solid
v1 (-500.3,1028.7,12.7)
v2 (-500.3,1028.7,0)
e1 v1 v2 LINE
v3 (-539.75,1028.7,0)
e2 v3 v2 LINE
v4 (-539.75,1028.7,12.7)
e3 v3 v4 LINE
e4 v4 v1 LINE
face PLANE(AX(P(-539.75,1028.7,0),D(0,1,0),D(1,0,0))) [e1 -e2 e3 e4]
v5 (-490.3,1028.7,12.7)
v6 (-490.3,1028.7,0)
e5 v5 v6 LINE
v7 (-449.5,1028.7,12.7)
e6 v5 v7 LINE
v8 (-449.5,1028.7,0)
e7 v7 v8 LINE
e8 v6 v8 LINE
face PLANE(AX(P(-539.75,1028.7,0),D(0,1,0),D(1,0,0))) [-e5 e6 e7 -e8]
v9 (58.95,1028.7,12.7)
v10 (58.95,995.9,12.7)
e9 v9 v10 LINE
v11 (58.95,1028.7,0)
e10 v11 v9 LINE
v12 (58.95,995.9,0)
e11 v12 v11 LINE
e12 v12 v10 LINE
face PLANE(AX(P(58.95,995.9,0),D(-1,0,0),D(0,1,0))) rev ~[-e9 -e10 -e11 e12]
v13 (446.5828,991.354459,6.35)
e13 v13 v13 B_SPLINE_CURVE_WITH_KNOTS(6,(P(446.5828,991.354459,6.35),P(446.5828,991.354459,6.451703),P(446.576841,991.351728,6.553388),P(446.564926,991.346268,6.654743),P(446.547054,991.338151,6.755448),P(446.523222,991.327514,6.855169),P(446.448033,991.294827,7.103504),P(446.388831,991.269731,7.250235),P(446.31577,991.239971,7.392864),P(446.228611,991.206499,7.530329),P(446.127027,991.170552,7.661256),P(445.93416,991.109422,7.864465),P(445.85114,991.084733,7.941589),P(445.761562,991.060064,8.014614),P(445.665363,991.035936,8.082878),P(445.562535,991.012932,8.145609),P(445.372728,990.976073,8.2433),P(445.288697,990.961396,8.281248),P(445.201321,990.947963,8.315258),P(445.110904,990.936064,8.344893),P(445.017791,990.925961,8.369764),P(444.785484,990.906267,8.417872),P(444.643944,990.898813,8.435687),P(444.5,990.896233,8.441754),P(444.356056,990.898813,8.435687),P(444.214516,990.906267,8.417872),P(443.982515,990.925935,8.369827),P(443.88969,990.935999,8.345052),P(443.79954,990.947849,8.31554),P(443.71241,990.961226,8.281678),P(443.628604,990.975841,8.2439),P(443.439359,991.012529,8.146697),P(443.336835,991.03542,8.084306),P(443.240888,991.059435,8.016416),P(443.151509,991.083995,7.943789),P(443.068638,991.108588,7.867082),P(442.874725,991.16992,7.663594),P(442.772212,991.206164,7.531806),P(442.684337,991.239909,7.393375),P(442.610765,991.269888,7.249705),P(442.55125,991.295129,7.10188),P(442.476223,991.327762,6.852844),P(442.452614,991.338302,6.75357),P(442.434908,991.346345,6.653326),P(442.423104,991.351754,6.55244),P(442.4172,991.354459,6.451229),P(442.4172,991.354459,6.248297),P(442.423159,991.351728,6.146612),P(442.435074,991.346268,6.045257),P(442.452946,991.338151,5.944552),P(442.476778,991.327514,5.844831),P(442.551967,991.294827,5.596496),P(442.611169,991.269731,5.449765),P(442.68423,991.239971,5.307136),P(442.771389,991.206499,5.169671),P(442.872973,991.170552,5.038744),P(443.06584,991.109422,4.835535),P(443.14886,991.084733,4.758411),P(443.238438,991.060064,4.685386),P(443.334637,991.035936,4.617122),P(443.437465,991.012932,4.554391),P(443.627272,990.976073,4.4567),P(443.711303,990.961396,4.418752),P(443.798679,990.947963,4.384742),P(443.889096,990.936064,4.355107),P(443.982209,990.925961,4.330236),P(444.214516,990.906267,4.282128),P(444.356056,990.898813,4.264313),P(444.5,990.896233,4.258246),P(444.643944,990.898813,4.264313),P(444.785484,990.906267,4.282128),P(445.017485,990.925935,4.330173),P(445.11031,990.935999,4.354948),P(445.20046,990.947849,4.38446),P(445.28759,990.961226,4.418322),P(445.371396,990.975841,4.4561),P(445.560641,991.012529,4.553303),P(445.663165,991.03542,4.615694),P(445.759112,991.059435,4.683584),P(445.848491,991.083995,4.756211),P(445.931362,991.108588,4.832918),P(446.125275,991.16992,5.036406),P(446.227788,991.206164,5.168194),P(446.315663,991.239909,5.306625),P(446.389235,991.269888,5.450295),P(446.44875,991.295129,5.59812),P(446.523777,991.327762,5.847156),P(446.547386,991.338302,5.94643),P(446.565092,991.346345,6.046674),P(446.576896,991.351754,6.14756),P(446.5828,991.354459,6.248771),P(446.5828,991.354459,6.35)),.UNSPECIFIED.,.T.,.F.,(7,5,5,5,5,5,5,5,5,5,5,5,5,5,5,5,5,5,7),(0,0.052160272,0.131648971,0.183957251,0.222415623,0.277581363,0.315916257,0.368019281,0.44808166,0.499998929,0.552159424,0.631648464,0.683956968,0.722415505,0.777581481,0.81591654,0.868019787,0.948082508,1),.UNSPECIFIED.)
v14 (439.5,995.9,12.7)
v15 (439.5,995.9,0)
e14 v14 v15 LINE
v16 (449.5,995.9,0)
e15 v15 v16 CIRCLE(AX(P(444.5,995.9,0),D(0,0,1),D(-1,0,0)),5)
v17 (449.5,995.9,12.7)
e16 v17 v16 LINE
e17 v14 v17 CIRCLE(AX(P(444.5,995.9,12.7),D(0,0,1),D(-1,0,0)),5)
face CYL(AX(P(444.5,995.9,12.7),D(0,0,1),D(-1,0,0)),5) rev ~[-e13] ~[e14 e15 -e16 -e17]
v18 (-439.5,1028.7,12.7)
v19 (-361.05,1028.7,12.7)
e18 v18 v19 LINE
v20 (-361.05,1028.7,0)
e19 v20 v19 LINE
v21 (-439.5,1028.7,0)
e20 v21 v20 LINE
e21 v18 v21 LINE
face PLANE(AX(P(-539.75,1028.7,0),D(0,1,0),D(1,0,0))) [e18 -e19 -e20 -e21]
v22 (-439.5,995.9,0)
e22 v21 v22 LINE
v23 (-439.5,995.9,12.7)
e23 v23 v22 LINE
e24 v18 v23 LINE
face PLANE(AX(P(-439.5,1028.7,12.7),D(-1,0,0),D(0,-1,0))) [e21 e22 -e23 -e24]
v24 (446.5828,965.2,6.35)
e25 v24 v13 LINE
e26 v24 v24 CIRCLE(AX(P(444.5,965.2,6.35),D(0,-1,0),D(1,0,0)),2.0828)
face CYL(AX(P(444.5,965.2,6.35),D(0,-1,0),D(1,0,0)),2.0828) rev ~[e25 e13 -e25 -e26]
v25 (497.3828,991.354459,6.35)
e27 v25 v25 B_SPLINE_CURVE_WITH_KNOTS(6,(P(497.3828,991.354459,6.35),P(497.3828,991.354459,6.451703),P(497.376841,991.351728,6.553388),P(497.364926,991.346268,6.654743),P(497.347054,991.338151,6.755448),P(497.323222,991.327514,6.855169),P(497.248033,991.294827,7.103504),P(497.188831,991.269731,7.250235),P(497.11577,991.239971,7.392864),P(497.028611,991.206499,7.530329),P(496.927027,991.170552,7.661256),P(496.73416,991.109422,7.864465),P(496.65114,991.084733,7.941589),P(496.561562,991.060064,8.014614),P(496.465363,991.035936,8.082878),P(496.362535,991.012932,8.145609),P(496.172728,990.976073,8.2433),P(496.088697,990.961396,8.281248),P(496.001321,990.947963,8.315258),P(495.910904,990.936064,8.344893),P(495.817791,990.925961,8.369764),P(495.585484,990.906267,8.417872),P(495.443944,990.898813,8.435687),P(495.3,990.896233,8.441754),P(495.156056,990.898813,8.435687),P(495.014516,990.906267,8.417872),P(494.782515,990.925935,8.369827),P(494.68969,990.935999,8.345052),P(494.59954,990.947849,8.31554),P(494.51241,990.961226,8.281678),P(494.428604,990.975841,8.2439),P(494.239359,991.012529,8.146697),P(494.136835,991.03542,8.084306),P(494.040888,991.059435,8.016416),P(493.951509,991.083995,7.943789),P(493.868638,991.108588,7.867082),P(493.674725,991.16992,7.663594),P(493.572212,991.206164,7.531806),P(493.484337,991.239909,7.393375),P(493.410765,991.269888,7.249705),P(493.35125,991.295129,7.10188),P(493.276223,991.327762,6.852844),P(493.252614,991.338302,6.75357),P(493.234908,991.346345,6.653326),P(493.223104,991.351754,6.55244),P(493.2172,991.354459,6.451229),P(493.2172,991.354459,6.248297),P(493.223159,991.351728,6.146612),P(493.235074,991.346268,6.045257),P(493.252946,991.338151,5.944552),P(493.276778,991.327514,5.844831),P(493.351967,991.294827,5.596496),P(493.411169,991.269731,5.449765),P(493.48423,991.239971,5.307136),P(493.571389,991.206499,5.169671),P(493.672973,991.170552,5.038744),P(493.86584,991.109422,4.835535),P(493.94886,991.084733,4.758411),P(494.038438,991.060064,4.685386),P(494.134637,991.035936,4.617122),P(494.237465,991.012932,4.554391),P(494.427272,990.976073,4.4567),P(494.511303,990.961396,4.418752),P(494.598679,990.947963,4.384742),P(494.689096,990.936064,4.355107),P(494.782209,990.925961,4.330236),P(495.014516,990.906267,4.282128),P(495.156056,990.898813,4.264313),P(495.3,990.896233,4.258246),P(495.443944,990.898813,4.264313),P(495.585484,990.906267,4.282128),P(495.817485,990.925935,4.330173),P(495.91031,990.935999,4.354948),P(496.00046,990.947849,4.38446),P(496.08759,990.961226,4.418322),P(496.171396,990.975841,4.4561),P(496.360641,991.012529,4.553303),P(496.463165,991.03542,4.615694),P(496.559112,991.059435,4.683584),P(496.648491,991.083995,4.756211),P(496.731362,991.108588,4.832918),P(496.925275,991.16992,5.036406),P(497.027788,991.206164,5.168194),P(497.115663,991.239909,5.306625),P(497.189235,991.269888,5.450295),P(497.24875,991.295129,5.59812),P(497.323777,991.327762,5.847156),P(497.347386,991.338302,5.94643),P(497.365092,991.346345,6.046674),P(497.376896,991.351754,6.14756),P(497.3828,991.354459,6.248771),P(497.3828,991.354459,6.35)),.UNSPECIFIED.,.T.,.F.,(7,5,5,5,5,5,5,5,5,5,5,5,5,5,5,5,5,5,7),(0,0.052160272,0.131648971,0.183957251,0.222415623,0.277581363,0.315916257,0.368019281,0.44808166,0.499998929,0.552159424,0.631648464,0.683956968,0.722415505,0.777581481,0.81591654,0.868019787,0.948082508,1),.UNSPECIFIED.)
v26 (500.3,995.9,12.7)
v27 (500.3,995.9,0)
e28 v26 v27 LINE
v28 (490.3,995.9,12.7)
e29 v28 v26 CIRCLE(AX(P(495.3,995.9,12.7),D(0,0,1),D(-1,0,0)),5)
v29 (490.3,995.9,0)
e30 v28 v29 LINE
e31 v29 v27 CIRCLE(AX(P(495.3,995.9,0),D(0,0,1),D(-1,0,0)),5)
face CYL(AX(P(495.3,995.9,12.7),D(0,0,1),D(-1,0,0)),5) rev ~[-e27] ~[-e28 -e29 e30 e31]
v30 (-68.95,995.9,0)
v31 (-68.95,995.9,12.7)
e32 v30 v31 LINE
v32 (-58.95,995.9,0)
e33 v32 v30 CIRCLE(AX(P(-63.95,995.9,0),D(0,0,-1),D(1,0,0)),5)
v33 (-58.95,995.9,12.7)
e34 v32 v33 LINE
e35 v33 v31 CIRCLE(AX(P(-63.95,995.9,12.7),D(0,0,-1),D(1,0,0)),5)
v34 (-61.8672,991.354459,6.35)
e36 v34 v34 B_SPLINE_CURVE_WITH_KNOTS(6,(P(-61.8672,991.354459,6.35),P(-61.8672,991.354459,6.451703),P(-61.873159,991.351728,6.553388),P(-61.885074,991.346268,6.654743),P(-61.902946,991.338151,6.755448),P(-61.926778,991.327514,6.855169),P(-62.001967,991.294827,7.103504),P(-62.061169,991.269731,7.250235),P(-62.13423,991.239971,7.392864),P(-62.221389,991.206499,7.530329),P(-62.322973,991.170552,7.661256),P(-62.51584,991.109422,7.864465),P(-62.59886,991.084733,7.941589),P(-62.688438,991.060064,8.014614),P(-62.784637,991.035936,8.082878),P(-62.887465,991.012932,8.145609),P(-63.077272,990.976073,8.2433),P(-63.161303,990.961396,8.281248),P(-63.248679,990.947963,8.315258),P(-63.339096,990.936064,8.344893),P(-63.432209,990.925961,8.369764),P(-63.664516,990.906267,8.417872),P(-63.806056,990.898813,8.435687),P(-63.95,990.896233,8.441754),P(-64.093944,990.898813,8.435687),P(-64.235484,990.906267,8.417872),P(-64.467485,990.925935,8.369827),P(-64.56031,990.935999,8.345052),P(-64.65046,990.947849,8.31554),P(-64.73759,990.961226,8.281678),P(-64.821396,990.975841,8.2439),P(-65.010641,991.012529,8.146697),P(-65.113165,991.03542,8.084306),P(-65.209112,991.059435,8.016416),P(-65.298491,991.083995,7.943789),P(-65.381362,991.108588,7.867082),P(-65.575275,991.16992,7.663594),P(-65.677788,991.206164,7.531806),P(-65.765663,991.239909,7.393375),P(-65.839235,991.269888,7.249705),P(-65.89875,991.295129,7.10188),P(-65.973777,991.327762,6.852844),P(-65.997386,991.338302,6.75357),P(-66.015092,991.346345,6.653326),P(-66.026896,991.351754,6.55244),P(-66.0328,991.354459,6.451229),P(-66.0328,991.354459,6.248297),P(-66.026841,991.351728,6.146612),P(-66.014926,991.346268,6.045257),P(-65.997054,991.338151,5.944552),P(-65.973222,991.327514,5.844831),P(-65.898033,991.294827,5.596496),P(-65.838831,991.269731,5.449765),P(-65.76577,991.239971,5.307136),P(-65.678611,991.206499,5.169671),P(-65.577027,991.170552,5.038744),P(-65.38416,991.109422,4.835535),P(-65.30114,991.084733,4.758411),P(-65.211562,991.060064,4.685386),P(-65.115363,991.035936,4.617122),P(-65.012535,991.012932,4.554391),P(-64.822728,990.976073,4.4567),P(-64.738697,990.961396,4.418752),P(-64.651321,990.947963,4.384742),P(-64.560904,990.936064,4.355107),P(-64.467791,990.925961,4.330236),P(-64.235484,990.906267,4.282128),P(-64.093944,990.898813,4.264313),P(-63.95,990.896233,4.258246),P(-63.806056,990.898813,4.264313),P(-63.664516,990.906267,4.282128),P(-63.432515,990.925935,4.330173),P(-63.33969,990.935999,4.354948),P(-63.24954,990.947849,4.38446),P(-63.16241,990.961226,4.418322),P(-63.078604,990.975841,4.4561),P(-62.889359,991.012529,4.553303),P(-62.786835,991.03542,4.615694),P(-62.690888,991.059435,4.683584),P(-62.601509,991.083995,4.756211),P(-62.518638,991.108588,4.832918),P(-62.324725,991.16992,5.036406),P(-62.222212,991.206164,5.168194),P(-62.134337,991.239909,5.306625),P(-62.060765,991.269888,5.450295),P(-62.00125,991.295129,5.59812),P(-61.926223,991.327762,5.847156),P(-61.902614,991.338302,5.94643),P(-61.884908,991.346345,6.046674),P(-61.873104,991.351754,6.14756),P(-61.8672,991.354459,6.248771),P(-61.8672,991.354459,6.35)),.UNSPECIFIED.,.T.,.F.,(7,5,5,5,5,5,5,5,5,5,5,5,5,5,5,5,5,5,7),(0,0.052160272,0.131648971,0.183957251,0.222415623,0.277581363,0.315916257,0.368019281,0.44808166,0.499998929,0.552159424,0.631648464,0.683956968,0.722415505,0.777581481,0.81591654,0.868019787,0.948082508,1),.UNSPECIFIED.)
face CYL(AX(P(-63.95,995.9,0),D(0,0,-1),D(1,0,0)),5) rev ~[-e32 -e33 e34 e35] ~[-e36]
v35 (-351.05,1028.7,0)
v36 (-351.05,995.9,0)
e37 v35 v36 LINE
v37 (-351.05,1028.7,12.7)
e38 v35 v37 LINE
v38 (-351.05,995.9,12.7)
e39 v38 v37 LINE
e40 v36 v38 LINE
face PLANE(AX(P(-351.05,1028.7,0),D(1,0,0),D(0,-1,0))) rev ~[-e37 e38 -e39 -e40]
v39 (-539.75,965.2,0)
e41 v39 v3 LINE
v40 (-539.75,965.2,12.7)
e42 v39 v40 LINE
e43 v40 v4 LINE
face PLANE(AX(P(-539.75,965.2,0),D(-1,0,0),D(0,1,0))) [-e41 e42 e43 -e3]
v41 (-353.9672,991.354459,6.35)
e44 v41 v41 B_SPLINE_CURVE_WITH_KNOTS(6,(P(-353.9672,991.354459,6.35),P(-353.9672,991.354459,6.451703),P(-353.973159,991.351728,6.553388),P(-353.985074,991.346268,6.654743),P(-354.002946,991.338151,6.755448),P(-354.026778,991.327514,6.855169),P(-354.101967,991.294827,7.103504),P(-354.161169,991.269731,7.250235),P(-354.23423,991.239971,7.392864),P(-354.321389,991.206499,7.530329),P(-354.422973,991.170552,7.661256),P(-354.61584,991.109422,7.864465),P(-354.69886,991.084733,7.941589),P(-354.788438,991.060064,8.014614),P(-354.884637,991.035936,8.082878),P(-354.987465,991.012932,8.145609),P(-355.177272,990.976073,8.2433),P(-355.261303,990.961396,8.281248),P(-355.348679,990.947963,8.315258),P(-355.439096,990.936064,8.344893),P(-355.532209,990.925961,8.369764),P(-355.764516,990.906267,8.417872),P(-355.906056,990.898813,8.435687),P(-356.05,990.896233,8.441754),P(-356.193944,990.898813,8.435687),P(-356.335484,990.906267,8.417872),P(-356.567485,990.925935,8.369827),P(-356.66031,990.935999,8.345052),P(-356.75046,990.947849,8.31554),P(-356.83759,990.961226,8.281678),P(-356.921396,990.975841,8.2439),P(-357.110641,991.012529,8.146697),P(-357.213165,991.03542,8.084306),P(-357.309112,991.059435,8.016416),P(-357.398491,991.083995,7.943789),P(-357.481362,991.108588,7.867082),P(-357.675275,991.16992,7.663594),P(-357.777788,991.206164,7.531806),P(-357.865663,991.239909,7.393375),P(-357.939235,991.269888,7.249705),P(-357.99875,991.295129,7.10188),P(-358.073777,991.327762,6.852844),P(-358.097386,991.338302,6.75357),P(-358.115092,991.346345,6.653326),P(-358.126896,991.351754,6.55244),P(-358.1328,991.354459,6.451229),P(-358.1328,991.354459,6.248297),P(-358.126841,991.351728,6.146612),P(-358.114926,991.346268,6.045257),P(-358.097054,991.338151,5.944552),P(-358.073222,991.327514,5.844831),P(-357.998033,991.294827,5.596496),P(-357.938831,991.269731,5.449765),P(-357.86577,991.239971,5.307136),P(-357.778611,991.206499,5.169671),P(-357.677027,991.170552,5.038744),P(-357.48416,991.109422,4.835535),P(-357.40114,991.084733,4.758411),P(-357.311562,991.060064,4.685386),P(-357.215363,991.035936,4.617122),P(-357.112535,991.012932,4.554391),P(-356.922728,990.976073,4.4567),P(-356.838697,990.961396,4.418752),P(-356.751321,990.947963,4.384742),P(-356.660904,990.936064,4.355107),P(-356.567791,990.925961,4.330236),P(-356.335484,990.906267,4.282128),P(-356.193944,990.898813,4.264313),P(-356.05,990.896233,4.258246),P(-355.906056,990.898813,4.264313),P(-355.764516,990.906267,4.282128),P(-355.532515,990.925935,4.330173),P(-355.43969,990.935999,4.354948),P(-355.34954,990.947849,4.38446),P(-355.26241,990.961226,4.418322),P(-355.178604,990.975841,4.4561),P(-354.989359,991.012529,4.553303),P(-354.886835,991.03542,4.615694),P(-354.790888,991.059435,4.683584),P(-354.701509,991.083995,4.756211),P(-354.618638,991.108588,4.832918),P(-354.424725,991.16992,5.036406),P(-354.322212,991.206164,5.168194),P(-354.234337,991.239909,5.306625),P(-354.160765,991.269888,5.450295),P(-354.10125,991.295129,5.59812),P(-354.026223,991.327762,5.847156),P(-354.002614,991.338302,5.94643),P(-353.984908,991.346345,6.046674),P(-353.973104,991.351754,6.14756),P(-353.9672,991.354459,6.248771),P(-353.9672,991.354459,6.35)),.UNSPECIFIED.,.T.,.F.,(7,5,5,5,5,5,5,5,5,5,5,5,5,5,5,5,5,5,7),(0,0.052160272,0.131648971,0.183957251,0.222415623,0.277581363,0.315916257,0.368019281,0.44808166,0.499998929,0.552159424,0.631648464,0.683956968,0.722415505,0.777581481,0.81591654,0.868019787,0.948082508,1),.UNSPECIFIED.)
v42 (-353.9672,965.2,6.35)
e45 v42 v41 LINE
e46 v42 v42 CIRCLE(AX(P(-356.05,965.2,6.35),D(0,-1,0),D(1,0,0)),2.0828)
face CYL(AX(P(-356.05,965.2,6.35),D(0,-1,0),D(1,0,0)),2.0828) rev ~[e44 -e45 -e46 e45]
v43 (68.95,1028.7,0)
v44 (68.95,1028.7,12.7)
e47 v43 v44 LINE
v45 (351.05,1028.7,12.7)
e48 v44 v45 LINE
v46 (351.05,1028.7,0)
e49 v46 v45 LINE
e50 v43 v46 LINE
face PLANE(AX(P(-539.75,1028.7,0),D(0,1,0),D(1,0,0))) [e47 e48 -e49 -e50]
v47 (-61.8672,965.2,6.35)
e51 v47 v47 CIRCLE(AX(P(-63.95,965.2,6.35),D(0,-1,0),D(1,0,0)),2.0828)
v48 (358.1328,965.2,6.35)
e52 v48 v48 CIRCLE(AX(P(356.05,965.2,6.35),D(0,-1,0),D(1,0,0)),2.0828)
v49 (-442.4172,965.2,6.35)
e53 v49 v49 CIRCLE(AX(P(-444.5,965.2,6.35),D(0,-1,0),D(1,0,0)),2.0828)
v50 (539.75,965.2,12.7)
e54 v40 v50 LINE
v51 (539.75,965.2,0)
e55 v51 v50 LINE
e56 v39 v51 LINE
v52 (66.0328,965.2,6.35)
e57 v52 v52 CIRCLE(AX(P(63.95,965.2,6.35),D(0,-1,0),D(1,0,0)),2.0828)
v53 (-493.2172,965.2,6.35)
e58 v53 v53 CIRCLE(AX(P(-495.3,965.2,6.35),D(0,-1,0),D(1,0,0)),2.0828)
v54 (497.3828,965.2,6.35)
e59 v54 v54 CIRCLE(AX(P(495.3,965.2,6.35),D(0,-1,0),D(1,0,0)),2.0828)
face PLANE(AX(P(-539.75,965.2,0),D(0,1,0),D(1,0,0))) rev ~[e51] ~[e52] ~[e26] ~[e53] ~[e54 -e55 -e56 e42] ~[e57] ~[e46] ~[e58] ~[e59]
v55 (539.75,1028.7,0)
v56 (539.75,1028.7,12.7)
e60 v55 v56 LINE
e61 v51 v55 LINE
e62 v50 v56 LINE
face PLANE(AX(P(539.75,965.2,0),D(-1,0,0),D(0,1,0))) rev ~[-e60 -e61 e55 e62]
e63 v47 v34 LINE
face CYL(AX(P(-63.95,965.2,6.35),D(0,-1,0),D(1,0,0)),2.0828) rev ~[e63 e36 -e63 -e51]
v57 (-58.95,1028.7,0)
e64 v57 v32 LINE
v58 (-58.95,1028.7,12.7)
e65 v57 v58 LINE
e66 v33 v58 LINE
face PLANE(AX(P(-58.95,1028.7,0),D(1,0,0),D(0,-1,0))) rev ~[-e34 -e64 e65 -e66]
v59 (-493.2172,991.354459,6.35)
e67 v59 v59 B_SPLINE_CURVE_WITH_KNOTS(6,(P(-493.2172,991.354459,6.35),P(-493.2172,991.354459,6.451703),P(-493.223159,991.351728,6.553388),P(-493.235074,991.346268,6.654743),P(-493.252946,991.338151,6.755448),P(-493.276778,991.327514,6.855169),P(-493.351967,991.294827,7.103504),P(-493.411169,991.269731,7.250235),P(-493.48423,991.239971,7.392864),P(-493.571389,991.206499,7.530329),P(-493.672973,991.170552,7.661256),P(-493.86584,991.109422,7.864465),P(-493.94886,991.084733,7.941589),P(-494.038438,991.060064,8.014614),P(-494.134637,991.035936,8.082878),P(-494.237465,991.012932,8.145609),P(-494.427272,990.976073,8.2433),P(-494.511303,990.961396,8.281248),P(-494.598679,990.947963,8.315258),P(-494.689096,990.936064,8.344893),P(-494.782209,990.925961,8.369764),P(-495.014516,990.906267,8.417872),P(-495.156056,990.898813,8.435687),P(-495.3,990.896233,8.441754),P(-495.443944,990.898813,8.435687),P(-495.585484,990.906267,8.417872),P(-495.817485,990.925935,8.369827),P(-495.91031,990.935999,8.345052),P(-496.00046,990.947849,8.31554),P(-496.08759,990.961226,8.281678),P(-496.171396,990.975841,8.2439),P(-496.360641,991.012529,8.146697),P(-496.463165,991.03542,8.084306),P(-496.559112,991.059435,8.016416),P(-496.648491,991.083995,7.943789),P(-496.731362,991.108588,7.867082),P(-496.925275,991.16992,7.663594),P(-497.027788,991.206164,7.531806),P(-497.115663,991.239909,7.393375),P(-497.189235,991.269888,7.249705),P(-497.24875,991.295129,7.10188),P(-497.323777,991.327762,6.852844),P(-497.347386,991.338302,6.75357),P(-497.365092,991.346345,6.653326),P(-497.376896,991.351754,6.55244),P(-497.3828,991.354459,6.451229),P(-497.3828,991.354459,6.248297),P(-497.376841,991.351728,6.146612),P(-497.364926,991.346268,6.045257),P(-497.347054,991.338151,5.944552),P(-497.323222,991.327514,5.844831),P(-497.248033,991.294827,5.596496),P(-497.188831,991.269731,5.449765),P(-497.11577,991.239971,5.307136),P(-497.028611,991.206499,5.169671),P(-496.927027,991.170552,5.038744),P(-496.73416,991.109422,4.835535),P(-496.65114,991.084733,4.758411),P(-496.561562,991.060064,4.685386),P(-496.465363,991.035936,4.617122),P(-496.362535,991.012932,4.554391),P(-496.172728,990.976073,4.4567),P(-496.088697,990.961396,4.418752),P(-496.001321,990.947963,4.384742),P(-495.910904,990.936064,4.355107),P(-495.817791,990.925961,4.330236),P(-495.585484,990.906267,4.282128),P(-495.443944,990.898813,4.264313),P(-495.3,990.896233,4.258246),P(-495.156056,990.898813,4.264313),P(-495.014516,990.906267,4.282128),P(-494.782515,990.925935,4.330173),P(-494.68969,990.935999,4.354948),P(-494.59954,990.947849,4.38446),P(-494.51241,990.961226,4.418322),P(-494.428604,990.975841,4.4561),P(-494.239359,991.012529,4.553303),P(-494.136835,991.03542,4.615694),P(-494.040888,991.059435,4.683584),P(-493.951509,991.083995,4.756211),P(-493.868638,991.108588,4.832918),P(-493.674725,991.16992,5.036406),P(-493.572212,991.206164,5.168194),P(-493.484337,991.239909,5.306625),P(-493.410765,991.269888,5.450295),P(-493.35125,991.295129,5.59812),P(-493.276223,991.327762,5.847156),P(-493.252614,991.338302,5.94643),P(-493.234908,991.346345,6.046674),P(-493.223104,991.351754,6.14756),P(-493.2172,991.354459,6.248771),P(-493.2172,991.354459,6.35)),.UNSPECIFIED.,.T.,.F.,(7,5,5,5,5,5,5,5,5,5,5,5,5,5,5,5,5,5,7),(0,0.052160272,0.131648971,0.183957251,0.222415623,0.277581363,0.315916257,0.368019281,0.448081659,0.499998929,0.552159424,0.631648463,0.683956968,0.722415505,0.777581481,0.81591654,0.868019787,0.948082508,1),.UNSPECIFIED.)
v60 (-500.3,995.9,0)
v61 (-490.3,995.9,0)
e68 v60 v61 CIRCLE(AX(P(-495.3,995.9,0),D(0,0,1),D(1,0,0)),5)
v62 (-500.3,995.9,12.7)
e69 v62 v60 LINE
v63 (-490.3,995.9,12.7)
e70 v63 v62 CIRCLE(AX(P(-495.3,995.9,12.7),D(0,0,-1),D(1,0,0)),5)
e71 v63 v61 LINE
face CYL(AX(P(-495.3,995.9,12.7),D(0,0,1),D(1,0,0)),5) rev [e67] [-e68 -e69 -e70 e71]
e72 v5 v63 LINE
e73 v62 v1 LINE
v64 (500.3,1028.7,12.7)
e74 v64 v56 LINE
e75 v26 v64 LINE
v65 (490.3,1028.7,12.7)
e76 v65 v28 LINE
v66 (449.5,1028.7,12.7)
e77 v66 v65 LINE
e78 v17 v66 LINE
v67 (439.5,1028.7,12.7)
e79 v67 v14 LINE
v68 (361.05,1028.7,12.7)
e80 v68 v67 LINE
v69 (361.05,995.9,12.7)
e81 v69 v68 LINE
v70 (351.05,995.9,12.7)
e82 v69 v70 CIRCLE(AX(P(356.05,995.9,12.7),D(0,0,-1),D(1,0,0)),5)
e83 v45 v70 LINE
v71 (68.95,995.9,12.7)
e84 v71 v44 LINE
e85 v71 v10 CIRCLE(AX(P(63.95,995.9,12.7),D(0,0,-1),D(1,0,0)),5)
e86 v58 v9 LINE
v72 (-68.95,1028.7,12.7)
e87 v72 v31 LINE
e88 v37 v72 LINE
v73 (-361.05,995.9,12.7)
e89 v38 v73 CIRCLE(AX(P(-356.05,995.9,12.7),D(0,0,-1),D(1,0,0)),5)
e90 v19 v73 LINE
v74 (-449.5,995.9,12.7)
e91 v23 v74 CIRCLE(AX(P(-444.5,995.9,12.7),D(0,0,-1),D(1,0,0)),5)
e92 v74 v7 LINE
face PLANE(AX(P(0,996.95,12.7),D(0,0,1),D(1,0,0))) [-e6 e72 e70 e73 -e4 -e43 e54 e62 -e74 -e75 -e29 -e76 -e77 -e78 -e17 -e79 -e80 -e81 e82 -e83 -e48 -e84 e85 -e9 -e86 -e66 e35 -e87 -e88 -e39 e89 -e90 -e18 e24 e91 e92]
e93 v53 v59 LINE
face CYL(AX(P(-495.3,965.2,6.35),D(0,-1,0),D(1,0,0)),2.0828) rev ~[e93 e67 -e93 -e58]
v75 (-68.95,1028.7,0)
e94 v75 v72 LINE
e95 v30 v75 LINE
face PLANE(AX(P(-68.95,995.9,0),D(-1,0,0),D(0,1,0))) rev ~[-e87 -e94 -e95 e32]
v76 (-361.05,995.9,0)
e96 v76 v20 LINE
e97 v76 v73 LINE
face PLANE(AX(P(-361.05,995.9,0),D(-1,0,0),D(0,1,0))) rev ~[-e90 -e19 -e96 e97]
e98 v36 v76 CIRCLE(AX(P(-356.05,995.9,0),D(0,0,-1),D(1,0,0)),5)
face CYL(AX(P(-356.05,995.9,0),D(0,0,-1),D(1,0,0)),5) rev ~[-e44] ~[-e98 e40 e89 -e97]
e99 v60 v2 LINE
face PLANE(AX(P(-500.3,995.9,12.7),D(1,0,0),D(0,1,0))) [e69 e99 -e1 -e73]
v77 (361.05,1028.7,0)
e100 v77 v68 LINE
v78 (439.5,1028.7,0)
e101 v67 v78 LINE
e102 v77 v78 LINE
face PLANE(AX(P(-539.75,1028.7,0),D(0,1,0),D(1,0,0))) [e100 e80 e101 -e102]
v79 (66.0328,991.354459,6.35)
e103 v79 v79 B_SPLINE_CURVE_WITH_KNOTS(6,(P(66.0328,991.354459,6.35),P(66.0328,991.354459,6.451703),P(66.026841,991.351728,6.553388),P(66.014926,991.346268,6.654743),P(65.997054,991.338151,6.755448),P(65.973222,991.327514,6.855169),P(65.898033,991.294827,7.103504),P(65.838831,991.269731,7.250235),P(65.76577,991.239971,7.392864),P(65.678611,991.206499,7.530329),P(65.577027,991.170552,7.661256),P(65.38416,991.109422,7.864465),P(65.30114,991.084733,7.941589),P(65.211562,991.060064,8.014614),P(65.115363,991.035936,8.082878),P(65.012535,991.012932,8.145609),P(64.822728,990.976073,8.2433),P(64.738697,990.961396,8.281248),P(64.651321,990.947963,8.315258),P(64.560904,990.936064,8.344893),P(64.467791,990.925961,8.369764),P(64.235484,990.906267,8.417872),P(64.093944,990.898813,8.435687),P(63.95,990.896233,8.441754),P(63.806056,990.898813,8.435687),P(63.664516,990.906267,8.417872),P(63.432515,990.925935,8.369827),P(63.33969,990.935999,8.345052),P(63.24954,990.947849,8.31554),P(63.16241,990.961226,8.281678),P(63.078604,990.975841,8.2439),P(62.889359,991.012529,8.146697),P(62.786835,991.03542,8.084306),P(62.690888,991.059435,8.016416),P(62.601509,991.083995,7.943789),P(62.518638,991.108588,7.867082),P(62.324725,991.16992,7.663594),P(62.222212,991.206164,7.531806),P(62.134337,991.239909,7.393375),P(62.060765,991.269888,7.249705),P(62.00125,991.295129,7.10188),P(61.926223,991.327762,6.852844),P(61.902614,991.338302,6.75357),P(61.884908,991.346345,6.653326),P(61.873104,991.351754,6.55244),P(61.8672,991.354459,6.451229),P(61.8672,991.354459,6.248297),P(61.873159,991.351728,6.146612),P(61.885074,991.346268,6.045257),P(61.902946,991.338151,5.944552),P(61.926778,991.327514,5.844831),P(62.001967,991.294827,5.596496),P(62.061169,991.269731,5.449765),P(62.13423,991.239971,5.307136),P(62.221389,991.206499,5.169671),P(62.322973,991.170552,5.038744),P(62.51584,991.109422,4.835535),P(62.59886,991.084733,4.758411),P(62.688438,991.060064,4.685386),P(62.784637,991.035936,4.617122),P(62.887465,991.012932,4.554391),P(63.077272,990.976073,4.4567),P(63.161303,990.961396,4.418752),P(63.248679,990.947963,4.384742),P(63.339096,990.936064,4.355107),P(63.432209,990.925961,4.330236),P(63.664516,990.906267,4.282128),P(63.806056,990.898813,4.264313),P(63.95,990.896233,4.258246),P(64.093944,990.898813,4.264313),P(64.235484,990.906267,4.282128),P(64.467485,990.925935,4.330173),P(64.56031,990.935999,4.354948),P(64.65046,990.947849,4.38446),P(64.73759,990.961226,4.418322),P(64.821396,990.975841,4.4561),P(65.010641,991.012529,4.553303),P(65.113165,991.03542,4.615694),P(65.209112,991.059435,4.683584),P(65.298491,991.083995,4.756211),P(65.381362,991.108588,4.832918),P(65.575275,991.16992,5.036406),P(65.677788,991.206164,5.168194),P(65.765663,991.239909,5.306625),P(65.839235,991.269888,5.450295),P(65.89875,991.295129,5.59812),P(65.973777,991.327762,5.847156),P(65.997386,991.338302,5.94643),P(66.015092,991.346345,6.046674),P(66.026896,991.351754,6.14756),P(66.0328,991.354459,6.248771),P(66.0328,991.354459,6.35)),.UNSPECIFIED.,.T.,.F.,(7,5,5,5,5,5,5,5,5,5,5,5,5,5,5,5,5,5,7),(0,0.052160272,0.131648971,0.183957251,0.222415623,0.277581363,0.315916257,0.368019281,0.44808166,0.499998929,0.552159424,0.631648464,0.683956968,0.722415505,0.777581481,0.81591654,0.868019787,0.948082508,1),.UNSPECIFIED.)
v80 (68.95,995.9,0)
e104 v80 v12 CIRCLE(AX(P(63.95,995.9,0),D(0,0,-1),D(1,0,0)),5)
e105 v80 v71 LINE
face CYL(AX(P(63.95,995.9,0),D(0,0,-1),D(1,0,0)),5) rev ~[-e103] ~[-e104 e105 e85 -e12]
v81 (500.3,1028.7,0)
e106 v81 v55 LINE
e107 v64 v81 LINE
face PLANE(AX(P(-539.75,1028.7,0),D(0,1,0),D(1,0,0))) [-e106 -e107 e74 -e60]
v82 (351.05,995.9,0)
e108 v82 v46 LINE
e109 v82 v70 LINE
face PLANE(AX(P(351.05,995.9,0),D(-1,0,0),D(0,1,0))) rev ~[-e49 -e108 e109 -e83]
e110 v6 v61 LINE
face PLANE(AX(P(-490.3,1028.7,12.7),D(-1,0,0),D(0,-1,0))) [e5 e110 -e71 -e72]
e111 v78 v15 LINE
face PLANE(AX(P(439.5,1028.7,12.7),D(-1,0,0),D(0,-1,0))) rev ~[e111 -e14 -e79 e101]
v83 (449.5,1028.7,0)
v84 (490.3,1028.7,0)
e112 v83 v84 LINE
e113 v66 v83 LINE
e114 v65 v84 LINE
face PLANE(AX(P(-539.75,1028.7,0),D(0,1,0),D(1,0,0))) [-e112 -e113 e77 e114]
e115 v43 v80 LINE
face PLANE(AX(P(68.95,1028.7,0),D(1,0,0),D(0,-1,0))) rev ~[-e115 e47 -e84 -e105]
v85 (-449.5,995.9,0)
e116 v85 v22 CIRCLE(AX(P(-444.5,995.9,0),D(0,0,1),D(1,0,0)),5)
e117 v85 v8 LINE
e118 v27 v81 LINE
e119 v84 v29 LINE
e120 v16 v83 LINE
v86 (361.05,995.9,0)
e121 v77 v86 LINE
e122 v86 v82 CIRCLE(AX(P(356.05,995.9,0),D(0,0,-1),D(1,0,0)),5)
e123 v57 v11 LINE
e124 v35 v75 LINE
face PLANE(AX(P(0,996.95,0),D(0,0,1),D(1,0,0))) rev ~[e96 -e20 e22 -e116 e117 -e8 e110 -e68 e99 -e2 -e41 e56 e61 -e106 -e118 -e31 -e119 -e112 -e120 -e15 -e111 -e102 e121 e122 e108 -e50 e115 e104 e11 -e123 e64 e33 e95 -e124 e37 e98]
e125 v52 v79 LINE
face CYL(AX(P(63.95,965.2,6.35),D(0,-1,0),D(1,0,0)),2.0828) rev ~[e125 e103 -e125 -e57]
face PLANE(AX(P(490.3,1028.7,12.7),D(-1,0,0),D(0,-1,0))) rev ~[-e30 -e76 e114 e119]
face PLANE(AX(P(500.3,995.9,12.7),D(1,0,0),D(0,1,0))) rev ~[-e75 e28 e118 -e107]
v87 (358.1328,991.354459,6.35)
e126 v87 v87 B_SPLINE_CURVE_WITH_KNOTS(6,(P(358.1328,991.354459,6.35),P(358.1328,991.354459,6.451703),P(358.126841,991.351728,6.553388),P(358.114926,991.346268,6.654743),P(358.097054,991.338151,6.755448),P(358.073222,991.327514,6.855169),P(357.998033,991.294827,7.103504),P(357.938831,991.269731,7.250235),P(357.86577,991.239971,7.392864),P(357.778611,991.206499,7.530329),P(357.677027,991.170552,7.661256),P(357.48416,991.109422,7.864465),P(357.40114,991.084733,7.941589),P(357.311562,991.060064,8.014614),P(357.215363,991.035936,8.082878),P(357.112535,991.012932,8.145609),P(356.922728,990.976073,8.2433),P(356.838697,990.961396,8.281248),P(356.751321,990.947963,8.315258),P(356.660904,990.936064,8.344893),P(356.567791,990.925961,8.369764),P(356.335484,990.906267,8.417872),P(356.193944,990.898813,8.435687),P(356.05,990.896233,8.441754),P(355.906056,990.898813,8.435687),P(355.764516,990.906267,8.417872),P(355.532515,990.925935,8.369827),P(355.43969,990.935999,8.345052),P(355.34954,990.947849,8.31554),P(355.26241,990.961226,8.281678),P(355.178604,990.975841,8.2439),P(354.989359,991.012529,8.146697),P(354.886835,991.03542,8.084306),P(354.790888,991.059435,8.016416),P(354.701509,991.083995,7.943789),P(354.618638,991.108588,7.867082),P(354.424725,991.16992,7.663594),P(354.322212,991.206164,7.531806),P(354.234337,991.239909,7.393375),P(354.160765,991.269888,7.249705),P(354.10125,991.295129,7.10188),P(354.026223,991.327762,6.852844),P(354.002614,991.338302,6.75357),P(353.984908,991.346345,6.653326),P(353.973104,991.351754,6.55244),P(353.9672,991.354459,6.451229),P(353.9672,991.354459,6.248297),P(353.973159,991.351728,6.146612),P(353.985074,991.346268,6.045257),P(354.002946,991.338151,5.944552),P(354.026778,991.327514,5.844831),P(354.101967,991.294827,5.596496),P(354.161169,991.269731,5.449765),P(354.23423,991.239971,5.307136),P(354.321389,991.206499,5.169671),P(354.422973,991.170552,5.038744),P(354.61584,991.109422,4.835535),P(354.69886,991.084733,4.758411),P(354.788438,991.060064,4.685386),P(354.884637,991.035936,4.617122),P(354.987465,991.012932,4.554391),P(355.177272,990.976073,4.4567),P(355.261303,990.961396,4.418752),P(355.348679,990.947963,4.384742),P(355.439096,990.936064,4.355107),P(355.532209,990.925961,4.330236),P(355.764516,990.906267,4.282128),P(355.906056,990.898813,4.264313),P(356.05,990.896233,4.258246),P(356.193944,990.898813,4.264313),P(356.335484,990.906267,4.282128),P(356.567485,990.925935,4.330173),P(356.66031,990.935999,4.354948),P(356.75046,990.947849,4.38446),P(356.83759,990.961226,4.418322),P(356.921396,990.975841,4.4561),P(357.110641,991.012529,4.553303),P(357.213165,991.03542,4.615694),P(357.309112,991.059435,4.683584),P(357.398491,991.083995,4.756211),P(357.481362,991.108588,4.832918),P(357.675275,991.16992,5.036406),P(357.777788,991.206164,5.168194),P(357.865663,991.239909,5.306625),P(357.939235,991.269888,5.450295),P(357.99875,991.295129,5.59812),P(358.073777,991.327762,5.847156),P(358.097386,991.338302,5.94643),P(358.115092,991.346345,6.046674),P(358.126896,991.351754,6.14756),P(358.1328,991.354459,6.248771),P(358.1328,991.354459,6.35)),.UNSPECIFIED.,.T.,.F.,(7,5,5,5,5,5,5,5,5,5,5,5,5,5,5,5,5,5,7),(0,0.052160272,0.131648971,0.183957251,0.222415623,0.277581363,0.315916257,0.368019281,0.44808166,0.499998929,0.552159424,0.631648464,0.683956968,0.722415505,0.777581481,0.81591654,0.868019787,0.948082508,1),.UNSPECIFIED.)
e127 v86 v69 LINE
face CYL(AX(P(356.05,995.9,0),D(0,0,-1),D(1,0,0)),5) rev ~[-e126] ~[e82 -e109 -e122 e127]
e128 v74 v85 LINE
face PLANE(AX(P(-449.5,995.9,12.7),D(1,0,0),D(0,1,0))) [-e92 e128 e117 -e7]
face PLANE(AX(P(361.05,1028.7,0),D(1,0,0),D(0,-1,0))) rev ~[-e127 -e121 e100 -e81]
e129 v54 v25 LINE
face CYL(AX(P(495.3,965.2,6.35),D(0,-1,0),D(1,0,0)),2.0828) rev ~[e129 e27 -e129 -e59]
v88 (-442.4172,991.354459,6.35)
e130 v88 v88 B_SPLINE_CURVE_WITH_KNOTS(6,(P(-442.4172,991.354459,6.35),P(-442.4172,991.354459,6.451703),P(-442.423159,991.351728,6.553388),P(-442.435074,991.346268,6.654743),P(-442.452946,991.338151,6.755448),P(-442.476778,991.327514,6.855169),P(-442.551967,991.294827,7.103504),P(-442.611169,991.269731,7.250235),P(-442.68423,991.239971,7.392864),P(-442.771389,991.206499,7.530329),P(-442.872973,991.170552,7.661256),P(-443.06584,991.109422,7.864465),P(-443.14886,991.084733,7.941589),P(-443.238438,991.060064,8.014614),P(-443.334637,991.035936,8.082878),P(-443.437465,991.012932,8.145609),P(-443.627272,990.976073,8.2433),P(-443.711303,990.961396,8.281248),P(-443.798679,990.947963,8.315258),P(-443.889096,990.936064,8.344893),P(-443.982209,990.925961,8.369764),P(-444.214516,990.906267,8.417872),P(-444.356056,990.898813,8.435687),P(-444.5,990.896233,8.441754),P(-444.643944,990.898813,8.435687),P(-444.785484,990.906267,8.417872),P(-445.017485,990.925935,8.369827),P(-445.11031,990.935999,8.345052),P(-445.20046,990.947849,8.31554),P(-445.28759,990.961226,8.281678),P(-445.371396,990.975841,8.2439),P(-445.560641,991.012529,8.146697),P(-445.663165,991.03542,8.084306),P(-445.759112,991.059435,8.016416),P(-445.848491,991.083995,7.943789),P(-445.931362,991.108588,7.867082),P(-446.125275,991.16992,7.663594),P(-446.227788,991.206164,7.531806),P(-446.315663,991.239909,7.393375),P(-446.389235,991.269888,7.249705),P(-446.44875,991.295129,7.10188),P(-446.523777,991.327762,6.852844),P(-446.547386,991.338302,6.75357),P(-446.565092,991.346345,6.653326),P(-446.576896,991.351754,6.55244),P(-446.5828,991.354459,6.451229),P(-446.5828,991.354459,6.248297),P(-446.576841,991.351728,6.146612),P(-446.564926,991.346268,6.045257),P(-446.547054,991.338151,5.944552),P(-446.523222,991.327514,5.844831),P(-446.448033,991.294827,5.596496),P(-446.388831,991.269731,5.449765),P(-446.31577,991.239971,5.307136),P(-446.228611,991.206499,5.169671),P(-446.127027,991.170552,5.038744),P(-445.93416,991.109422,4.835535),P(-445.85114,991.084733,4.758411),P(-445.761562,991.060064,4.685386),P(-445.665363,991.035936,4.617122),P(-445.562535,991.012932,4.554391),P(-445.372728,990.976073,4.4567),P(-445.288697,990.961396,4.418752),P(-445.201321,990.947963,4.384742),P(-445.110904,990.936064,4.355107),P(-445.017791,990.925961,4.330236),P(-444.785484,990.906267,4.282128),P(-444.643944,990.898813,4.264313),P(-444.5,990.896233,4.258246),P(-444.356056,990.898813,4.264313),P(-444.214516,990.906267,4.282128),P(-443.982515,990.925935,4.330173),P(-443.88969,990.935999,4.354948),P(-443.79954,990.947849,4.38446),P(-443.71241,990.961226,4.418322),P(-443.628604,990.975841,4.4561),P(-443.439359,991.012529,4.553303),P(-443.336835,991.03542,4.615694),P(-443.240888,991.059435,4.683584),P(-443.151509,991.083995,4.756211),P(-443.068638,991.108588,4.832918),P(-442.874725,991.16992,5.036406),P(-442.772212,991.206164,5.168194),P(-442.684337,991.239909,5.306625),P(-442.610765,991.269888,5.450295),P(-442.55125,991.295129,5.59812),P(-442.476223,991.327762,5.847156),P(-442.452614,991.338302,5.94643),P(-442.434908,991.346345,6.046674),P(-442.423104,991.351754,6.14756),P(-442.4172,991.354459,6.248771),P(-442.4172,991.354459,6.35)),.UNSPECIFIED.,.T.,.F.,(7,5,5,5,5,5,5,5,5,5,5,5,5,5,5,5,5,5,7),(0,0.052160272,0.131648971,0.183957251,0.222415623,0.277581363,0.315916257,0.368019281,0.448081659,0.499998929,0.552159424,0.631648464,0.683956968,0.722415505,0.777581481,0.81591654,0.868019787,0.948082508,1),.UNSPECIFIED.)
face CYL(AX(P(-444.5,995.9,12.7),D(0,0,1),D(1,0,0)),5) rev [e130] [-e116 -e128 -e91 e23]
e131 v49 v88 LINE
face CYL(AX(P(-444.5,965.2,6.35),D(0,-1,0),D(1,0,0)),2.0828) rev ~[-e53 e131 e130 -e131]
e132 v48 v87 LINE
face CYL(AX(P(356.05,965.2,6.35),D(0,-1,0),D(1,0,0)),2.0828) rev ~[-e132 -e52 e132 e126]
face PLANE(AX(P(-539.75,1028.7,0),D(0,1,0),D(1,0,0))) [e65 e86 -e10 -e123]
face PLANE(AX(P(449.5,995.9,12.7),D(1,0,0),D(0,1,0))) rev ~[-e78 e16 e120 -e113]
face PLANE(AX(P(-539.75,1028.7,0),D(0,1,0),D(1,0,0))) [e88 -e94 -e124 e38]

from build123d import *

# Parameters (mm, degrees)
SKETCH1_W          = 1079.5
SKETCH1_H          = 63.5
EXTRUDE1_DEPTH     = 12.7
CUT_EXTRUDE1_DEPTH = 13.7
SKETCH6_R          = 2.0828
CUT_EXTRUDE3_DEPTH = 64.5
CUT_EXTRUDE4_DEPTH = 13.7000001
SKETCH8_R          = 2.0828
CUT_EXTRUDE5_DEPTH = 64.5


with BuildPart() as part:
    # Sketch1 → Extrude1 (new body)
    with BuildSketch(Plane.XY):
        with Locations((0, 996.95)):
            Rectangle(SKETCH1_W, SKETCH1_H)
    extrude(amount=EXTRUDE1_DEPTH)

    # Sketch4 → Cut-Extrude1 (cut, through all)
    with BuildSketch(Plane(origin=(0, 0, 0), x_dir=(-1, 0, 0), z_dir=(0, 0, -1))):
        with BuildLine():
            Line((-68.95, 1028.7), (-68.95, 995.9))
            ThreePointArc((-68.95, 995.9), (-63.95, 990.9), (-58.95, 995.9))
            Line((-58.95, 995.9), (-58.95, 1028.7))
            Line((-58.95, 1028.7), (-68.95, 1028.7))
        make_face()
        with BuildLine():
            Line((-351.05, 1028.7), (-361.05, 1028.7))
            Line((-361.05, 1028.7), (-361.05, 995.9))
            ThreePointArc((-361.05, 995.9), (-356.05, 990.9), (-351.05, 995.9))
            Line((-351.05, 995.9), (-351.05, 1028.7))
        make_face()
        with BuildLine():
            Line((58.95, 1028.7), (58.95, 995.9))
            ThreePointArc((58.95, 995.9), (63.95, 990.9), (68.95, 995.9))
            Line((68.95, 995.9), (68.95, 1028.7))
            Line((68.95, 1028.7), (58.95, 1028.7))
        make_face()
        with BuildLine():
            Line((351.05, 1028.7), (351.05, 995.9))
            ThreePointArc((351.05, 995.9), (356.05, 990.9), (361.05, 995.9))
            Line((361.05, 995.9), (361.05, 1028.7))
            Line((361.05, 1028.7), (351.05, 1028.7))
        make_face()
    extrude(amount=-CUT_EXTRUDE1_DEPTH, mode=Mode.SUBTRACT)

    # Sketch6 → Cut-Extrude3 (cut, through all)
    with BuildSketch(Plane.XZ.offset(-965.2)):
        with Locations((-356.05, 6.35)):
            Circle(SKETCH6_R)
        with Locations((356.05, 6.35)):
            Circle(SKETCH6_R)
        with Locations((63.95, 6.35)):
            Circle(SKETCH6_R)
        with Locations((-63.95, 6.35)):
            Circle(SKETCH6_R)
    extrude(amount=-CUT_EXTRUDE3_DEPTH, mode=Mode.SUBTRACT)

    # Sketch7 → Cut-Extrude4 (cut, through all)
    with BuildSketch(Plane.XY.offset(12.7)):
        with BuildLine():
            Line((-449.5, 995.9), (-449.5, 1028.7))
            Line((-449.5, 1028.7), (-439.5, 1028.7))
            Line((-439.5, 1028.7), (-439.5, 995.9))
            ThreePointArc((-439.5, 995.9), (-444.5, 990.9), (-449.5, 995.9))
        make_face()
        with BuildLine():
            Line((-500.3, 995.9), (-500.3, 1028.7))
            Line((-500.3, 1028.7), (-490.3, 1028.7))
            Line((-490.3, 1028.7), (-490.3, 995.9))
            ThreePointArc((-490.3, 995.9), (-495.3, 990.9), (-500.3, 995.9))
        make_face()
        with BuildLine():
            Line((490.3, 1028.7), (490.3, 995.9))
            ThreePointArc((490.3, 995.9), (495.3, 990.9), (500.3, 995.9))
            Line((500.3, 995.9), (500.3, 1028.7))
            Line((500.3, 1028.7), (490.3, 1028.7))
        make_face()
        with BuildLine():
            Line((439.5, 1028.7), (439.5, 995.9))
            ThreePointArc((439.5, 995.9), (444.5, 990.9), (449.5, 995.9))
            Line((449.5, 995.9), (449.5, 1028.7))
            Line((449.5, 1028.7), (439.5, 1028.7))
        make_face()
    extrude(amount=-CUT_EXTRUDE4_DEPTH, mode=Mode.SUBTRACT)

    # Sketch8 → Cut-Extrude5 (cut, through all)
    with BuildSketch(Plane.XZ.offset(-965.2)):
        with Locations((-495.3, 6.35)):
            Circle(SKETCH8_R)
        with Locations((-444.5, 6.35)):
            Circle(SKETCH8_R)
        with Locations((444.5, 6.35)):
            Circle(SKETCH8_R)
        with Locations((495.3, 6.35)):
            Circle(SKETCH8_R)
    extrude(amount=-CUT_EXTRUDE5_DEPTH, mode=Mode.SUBTRACT)


solid = part.part
